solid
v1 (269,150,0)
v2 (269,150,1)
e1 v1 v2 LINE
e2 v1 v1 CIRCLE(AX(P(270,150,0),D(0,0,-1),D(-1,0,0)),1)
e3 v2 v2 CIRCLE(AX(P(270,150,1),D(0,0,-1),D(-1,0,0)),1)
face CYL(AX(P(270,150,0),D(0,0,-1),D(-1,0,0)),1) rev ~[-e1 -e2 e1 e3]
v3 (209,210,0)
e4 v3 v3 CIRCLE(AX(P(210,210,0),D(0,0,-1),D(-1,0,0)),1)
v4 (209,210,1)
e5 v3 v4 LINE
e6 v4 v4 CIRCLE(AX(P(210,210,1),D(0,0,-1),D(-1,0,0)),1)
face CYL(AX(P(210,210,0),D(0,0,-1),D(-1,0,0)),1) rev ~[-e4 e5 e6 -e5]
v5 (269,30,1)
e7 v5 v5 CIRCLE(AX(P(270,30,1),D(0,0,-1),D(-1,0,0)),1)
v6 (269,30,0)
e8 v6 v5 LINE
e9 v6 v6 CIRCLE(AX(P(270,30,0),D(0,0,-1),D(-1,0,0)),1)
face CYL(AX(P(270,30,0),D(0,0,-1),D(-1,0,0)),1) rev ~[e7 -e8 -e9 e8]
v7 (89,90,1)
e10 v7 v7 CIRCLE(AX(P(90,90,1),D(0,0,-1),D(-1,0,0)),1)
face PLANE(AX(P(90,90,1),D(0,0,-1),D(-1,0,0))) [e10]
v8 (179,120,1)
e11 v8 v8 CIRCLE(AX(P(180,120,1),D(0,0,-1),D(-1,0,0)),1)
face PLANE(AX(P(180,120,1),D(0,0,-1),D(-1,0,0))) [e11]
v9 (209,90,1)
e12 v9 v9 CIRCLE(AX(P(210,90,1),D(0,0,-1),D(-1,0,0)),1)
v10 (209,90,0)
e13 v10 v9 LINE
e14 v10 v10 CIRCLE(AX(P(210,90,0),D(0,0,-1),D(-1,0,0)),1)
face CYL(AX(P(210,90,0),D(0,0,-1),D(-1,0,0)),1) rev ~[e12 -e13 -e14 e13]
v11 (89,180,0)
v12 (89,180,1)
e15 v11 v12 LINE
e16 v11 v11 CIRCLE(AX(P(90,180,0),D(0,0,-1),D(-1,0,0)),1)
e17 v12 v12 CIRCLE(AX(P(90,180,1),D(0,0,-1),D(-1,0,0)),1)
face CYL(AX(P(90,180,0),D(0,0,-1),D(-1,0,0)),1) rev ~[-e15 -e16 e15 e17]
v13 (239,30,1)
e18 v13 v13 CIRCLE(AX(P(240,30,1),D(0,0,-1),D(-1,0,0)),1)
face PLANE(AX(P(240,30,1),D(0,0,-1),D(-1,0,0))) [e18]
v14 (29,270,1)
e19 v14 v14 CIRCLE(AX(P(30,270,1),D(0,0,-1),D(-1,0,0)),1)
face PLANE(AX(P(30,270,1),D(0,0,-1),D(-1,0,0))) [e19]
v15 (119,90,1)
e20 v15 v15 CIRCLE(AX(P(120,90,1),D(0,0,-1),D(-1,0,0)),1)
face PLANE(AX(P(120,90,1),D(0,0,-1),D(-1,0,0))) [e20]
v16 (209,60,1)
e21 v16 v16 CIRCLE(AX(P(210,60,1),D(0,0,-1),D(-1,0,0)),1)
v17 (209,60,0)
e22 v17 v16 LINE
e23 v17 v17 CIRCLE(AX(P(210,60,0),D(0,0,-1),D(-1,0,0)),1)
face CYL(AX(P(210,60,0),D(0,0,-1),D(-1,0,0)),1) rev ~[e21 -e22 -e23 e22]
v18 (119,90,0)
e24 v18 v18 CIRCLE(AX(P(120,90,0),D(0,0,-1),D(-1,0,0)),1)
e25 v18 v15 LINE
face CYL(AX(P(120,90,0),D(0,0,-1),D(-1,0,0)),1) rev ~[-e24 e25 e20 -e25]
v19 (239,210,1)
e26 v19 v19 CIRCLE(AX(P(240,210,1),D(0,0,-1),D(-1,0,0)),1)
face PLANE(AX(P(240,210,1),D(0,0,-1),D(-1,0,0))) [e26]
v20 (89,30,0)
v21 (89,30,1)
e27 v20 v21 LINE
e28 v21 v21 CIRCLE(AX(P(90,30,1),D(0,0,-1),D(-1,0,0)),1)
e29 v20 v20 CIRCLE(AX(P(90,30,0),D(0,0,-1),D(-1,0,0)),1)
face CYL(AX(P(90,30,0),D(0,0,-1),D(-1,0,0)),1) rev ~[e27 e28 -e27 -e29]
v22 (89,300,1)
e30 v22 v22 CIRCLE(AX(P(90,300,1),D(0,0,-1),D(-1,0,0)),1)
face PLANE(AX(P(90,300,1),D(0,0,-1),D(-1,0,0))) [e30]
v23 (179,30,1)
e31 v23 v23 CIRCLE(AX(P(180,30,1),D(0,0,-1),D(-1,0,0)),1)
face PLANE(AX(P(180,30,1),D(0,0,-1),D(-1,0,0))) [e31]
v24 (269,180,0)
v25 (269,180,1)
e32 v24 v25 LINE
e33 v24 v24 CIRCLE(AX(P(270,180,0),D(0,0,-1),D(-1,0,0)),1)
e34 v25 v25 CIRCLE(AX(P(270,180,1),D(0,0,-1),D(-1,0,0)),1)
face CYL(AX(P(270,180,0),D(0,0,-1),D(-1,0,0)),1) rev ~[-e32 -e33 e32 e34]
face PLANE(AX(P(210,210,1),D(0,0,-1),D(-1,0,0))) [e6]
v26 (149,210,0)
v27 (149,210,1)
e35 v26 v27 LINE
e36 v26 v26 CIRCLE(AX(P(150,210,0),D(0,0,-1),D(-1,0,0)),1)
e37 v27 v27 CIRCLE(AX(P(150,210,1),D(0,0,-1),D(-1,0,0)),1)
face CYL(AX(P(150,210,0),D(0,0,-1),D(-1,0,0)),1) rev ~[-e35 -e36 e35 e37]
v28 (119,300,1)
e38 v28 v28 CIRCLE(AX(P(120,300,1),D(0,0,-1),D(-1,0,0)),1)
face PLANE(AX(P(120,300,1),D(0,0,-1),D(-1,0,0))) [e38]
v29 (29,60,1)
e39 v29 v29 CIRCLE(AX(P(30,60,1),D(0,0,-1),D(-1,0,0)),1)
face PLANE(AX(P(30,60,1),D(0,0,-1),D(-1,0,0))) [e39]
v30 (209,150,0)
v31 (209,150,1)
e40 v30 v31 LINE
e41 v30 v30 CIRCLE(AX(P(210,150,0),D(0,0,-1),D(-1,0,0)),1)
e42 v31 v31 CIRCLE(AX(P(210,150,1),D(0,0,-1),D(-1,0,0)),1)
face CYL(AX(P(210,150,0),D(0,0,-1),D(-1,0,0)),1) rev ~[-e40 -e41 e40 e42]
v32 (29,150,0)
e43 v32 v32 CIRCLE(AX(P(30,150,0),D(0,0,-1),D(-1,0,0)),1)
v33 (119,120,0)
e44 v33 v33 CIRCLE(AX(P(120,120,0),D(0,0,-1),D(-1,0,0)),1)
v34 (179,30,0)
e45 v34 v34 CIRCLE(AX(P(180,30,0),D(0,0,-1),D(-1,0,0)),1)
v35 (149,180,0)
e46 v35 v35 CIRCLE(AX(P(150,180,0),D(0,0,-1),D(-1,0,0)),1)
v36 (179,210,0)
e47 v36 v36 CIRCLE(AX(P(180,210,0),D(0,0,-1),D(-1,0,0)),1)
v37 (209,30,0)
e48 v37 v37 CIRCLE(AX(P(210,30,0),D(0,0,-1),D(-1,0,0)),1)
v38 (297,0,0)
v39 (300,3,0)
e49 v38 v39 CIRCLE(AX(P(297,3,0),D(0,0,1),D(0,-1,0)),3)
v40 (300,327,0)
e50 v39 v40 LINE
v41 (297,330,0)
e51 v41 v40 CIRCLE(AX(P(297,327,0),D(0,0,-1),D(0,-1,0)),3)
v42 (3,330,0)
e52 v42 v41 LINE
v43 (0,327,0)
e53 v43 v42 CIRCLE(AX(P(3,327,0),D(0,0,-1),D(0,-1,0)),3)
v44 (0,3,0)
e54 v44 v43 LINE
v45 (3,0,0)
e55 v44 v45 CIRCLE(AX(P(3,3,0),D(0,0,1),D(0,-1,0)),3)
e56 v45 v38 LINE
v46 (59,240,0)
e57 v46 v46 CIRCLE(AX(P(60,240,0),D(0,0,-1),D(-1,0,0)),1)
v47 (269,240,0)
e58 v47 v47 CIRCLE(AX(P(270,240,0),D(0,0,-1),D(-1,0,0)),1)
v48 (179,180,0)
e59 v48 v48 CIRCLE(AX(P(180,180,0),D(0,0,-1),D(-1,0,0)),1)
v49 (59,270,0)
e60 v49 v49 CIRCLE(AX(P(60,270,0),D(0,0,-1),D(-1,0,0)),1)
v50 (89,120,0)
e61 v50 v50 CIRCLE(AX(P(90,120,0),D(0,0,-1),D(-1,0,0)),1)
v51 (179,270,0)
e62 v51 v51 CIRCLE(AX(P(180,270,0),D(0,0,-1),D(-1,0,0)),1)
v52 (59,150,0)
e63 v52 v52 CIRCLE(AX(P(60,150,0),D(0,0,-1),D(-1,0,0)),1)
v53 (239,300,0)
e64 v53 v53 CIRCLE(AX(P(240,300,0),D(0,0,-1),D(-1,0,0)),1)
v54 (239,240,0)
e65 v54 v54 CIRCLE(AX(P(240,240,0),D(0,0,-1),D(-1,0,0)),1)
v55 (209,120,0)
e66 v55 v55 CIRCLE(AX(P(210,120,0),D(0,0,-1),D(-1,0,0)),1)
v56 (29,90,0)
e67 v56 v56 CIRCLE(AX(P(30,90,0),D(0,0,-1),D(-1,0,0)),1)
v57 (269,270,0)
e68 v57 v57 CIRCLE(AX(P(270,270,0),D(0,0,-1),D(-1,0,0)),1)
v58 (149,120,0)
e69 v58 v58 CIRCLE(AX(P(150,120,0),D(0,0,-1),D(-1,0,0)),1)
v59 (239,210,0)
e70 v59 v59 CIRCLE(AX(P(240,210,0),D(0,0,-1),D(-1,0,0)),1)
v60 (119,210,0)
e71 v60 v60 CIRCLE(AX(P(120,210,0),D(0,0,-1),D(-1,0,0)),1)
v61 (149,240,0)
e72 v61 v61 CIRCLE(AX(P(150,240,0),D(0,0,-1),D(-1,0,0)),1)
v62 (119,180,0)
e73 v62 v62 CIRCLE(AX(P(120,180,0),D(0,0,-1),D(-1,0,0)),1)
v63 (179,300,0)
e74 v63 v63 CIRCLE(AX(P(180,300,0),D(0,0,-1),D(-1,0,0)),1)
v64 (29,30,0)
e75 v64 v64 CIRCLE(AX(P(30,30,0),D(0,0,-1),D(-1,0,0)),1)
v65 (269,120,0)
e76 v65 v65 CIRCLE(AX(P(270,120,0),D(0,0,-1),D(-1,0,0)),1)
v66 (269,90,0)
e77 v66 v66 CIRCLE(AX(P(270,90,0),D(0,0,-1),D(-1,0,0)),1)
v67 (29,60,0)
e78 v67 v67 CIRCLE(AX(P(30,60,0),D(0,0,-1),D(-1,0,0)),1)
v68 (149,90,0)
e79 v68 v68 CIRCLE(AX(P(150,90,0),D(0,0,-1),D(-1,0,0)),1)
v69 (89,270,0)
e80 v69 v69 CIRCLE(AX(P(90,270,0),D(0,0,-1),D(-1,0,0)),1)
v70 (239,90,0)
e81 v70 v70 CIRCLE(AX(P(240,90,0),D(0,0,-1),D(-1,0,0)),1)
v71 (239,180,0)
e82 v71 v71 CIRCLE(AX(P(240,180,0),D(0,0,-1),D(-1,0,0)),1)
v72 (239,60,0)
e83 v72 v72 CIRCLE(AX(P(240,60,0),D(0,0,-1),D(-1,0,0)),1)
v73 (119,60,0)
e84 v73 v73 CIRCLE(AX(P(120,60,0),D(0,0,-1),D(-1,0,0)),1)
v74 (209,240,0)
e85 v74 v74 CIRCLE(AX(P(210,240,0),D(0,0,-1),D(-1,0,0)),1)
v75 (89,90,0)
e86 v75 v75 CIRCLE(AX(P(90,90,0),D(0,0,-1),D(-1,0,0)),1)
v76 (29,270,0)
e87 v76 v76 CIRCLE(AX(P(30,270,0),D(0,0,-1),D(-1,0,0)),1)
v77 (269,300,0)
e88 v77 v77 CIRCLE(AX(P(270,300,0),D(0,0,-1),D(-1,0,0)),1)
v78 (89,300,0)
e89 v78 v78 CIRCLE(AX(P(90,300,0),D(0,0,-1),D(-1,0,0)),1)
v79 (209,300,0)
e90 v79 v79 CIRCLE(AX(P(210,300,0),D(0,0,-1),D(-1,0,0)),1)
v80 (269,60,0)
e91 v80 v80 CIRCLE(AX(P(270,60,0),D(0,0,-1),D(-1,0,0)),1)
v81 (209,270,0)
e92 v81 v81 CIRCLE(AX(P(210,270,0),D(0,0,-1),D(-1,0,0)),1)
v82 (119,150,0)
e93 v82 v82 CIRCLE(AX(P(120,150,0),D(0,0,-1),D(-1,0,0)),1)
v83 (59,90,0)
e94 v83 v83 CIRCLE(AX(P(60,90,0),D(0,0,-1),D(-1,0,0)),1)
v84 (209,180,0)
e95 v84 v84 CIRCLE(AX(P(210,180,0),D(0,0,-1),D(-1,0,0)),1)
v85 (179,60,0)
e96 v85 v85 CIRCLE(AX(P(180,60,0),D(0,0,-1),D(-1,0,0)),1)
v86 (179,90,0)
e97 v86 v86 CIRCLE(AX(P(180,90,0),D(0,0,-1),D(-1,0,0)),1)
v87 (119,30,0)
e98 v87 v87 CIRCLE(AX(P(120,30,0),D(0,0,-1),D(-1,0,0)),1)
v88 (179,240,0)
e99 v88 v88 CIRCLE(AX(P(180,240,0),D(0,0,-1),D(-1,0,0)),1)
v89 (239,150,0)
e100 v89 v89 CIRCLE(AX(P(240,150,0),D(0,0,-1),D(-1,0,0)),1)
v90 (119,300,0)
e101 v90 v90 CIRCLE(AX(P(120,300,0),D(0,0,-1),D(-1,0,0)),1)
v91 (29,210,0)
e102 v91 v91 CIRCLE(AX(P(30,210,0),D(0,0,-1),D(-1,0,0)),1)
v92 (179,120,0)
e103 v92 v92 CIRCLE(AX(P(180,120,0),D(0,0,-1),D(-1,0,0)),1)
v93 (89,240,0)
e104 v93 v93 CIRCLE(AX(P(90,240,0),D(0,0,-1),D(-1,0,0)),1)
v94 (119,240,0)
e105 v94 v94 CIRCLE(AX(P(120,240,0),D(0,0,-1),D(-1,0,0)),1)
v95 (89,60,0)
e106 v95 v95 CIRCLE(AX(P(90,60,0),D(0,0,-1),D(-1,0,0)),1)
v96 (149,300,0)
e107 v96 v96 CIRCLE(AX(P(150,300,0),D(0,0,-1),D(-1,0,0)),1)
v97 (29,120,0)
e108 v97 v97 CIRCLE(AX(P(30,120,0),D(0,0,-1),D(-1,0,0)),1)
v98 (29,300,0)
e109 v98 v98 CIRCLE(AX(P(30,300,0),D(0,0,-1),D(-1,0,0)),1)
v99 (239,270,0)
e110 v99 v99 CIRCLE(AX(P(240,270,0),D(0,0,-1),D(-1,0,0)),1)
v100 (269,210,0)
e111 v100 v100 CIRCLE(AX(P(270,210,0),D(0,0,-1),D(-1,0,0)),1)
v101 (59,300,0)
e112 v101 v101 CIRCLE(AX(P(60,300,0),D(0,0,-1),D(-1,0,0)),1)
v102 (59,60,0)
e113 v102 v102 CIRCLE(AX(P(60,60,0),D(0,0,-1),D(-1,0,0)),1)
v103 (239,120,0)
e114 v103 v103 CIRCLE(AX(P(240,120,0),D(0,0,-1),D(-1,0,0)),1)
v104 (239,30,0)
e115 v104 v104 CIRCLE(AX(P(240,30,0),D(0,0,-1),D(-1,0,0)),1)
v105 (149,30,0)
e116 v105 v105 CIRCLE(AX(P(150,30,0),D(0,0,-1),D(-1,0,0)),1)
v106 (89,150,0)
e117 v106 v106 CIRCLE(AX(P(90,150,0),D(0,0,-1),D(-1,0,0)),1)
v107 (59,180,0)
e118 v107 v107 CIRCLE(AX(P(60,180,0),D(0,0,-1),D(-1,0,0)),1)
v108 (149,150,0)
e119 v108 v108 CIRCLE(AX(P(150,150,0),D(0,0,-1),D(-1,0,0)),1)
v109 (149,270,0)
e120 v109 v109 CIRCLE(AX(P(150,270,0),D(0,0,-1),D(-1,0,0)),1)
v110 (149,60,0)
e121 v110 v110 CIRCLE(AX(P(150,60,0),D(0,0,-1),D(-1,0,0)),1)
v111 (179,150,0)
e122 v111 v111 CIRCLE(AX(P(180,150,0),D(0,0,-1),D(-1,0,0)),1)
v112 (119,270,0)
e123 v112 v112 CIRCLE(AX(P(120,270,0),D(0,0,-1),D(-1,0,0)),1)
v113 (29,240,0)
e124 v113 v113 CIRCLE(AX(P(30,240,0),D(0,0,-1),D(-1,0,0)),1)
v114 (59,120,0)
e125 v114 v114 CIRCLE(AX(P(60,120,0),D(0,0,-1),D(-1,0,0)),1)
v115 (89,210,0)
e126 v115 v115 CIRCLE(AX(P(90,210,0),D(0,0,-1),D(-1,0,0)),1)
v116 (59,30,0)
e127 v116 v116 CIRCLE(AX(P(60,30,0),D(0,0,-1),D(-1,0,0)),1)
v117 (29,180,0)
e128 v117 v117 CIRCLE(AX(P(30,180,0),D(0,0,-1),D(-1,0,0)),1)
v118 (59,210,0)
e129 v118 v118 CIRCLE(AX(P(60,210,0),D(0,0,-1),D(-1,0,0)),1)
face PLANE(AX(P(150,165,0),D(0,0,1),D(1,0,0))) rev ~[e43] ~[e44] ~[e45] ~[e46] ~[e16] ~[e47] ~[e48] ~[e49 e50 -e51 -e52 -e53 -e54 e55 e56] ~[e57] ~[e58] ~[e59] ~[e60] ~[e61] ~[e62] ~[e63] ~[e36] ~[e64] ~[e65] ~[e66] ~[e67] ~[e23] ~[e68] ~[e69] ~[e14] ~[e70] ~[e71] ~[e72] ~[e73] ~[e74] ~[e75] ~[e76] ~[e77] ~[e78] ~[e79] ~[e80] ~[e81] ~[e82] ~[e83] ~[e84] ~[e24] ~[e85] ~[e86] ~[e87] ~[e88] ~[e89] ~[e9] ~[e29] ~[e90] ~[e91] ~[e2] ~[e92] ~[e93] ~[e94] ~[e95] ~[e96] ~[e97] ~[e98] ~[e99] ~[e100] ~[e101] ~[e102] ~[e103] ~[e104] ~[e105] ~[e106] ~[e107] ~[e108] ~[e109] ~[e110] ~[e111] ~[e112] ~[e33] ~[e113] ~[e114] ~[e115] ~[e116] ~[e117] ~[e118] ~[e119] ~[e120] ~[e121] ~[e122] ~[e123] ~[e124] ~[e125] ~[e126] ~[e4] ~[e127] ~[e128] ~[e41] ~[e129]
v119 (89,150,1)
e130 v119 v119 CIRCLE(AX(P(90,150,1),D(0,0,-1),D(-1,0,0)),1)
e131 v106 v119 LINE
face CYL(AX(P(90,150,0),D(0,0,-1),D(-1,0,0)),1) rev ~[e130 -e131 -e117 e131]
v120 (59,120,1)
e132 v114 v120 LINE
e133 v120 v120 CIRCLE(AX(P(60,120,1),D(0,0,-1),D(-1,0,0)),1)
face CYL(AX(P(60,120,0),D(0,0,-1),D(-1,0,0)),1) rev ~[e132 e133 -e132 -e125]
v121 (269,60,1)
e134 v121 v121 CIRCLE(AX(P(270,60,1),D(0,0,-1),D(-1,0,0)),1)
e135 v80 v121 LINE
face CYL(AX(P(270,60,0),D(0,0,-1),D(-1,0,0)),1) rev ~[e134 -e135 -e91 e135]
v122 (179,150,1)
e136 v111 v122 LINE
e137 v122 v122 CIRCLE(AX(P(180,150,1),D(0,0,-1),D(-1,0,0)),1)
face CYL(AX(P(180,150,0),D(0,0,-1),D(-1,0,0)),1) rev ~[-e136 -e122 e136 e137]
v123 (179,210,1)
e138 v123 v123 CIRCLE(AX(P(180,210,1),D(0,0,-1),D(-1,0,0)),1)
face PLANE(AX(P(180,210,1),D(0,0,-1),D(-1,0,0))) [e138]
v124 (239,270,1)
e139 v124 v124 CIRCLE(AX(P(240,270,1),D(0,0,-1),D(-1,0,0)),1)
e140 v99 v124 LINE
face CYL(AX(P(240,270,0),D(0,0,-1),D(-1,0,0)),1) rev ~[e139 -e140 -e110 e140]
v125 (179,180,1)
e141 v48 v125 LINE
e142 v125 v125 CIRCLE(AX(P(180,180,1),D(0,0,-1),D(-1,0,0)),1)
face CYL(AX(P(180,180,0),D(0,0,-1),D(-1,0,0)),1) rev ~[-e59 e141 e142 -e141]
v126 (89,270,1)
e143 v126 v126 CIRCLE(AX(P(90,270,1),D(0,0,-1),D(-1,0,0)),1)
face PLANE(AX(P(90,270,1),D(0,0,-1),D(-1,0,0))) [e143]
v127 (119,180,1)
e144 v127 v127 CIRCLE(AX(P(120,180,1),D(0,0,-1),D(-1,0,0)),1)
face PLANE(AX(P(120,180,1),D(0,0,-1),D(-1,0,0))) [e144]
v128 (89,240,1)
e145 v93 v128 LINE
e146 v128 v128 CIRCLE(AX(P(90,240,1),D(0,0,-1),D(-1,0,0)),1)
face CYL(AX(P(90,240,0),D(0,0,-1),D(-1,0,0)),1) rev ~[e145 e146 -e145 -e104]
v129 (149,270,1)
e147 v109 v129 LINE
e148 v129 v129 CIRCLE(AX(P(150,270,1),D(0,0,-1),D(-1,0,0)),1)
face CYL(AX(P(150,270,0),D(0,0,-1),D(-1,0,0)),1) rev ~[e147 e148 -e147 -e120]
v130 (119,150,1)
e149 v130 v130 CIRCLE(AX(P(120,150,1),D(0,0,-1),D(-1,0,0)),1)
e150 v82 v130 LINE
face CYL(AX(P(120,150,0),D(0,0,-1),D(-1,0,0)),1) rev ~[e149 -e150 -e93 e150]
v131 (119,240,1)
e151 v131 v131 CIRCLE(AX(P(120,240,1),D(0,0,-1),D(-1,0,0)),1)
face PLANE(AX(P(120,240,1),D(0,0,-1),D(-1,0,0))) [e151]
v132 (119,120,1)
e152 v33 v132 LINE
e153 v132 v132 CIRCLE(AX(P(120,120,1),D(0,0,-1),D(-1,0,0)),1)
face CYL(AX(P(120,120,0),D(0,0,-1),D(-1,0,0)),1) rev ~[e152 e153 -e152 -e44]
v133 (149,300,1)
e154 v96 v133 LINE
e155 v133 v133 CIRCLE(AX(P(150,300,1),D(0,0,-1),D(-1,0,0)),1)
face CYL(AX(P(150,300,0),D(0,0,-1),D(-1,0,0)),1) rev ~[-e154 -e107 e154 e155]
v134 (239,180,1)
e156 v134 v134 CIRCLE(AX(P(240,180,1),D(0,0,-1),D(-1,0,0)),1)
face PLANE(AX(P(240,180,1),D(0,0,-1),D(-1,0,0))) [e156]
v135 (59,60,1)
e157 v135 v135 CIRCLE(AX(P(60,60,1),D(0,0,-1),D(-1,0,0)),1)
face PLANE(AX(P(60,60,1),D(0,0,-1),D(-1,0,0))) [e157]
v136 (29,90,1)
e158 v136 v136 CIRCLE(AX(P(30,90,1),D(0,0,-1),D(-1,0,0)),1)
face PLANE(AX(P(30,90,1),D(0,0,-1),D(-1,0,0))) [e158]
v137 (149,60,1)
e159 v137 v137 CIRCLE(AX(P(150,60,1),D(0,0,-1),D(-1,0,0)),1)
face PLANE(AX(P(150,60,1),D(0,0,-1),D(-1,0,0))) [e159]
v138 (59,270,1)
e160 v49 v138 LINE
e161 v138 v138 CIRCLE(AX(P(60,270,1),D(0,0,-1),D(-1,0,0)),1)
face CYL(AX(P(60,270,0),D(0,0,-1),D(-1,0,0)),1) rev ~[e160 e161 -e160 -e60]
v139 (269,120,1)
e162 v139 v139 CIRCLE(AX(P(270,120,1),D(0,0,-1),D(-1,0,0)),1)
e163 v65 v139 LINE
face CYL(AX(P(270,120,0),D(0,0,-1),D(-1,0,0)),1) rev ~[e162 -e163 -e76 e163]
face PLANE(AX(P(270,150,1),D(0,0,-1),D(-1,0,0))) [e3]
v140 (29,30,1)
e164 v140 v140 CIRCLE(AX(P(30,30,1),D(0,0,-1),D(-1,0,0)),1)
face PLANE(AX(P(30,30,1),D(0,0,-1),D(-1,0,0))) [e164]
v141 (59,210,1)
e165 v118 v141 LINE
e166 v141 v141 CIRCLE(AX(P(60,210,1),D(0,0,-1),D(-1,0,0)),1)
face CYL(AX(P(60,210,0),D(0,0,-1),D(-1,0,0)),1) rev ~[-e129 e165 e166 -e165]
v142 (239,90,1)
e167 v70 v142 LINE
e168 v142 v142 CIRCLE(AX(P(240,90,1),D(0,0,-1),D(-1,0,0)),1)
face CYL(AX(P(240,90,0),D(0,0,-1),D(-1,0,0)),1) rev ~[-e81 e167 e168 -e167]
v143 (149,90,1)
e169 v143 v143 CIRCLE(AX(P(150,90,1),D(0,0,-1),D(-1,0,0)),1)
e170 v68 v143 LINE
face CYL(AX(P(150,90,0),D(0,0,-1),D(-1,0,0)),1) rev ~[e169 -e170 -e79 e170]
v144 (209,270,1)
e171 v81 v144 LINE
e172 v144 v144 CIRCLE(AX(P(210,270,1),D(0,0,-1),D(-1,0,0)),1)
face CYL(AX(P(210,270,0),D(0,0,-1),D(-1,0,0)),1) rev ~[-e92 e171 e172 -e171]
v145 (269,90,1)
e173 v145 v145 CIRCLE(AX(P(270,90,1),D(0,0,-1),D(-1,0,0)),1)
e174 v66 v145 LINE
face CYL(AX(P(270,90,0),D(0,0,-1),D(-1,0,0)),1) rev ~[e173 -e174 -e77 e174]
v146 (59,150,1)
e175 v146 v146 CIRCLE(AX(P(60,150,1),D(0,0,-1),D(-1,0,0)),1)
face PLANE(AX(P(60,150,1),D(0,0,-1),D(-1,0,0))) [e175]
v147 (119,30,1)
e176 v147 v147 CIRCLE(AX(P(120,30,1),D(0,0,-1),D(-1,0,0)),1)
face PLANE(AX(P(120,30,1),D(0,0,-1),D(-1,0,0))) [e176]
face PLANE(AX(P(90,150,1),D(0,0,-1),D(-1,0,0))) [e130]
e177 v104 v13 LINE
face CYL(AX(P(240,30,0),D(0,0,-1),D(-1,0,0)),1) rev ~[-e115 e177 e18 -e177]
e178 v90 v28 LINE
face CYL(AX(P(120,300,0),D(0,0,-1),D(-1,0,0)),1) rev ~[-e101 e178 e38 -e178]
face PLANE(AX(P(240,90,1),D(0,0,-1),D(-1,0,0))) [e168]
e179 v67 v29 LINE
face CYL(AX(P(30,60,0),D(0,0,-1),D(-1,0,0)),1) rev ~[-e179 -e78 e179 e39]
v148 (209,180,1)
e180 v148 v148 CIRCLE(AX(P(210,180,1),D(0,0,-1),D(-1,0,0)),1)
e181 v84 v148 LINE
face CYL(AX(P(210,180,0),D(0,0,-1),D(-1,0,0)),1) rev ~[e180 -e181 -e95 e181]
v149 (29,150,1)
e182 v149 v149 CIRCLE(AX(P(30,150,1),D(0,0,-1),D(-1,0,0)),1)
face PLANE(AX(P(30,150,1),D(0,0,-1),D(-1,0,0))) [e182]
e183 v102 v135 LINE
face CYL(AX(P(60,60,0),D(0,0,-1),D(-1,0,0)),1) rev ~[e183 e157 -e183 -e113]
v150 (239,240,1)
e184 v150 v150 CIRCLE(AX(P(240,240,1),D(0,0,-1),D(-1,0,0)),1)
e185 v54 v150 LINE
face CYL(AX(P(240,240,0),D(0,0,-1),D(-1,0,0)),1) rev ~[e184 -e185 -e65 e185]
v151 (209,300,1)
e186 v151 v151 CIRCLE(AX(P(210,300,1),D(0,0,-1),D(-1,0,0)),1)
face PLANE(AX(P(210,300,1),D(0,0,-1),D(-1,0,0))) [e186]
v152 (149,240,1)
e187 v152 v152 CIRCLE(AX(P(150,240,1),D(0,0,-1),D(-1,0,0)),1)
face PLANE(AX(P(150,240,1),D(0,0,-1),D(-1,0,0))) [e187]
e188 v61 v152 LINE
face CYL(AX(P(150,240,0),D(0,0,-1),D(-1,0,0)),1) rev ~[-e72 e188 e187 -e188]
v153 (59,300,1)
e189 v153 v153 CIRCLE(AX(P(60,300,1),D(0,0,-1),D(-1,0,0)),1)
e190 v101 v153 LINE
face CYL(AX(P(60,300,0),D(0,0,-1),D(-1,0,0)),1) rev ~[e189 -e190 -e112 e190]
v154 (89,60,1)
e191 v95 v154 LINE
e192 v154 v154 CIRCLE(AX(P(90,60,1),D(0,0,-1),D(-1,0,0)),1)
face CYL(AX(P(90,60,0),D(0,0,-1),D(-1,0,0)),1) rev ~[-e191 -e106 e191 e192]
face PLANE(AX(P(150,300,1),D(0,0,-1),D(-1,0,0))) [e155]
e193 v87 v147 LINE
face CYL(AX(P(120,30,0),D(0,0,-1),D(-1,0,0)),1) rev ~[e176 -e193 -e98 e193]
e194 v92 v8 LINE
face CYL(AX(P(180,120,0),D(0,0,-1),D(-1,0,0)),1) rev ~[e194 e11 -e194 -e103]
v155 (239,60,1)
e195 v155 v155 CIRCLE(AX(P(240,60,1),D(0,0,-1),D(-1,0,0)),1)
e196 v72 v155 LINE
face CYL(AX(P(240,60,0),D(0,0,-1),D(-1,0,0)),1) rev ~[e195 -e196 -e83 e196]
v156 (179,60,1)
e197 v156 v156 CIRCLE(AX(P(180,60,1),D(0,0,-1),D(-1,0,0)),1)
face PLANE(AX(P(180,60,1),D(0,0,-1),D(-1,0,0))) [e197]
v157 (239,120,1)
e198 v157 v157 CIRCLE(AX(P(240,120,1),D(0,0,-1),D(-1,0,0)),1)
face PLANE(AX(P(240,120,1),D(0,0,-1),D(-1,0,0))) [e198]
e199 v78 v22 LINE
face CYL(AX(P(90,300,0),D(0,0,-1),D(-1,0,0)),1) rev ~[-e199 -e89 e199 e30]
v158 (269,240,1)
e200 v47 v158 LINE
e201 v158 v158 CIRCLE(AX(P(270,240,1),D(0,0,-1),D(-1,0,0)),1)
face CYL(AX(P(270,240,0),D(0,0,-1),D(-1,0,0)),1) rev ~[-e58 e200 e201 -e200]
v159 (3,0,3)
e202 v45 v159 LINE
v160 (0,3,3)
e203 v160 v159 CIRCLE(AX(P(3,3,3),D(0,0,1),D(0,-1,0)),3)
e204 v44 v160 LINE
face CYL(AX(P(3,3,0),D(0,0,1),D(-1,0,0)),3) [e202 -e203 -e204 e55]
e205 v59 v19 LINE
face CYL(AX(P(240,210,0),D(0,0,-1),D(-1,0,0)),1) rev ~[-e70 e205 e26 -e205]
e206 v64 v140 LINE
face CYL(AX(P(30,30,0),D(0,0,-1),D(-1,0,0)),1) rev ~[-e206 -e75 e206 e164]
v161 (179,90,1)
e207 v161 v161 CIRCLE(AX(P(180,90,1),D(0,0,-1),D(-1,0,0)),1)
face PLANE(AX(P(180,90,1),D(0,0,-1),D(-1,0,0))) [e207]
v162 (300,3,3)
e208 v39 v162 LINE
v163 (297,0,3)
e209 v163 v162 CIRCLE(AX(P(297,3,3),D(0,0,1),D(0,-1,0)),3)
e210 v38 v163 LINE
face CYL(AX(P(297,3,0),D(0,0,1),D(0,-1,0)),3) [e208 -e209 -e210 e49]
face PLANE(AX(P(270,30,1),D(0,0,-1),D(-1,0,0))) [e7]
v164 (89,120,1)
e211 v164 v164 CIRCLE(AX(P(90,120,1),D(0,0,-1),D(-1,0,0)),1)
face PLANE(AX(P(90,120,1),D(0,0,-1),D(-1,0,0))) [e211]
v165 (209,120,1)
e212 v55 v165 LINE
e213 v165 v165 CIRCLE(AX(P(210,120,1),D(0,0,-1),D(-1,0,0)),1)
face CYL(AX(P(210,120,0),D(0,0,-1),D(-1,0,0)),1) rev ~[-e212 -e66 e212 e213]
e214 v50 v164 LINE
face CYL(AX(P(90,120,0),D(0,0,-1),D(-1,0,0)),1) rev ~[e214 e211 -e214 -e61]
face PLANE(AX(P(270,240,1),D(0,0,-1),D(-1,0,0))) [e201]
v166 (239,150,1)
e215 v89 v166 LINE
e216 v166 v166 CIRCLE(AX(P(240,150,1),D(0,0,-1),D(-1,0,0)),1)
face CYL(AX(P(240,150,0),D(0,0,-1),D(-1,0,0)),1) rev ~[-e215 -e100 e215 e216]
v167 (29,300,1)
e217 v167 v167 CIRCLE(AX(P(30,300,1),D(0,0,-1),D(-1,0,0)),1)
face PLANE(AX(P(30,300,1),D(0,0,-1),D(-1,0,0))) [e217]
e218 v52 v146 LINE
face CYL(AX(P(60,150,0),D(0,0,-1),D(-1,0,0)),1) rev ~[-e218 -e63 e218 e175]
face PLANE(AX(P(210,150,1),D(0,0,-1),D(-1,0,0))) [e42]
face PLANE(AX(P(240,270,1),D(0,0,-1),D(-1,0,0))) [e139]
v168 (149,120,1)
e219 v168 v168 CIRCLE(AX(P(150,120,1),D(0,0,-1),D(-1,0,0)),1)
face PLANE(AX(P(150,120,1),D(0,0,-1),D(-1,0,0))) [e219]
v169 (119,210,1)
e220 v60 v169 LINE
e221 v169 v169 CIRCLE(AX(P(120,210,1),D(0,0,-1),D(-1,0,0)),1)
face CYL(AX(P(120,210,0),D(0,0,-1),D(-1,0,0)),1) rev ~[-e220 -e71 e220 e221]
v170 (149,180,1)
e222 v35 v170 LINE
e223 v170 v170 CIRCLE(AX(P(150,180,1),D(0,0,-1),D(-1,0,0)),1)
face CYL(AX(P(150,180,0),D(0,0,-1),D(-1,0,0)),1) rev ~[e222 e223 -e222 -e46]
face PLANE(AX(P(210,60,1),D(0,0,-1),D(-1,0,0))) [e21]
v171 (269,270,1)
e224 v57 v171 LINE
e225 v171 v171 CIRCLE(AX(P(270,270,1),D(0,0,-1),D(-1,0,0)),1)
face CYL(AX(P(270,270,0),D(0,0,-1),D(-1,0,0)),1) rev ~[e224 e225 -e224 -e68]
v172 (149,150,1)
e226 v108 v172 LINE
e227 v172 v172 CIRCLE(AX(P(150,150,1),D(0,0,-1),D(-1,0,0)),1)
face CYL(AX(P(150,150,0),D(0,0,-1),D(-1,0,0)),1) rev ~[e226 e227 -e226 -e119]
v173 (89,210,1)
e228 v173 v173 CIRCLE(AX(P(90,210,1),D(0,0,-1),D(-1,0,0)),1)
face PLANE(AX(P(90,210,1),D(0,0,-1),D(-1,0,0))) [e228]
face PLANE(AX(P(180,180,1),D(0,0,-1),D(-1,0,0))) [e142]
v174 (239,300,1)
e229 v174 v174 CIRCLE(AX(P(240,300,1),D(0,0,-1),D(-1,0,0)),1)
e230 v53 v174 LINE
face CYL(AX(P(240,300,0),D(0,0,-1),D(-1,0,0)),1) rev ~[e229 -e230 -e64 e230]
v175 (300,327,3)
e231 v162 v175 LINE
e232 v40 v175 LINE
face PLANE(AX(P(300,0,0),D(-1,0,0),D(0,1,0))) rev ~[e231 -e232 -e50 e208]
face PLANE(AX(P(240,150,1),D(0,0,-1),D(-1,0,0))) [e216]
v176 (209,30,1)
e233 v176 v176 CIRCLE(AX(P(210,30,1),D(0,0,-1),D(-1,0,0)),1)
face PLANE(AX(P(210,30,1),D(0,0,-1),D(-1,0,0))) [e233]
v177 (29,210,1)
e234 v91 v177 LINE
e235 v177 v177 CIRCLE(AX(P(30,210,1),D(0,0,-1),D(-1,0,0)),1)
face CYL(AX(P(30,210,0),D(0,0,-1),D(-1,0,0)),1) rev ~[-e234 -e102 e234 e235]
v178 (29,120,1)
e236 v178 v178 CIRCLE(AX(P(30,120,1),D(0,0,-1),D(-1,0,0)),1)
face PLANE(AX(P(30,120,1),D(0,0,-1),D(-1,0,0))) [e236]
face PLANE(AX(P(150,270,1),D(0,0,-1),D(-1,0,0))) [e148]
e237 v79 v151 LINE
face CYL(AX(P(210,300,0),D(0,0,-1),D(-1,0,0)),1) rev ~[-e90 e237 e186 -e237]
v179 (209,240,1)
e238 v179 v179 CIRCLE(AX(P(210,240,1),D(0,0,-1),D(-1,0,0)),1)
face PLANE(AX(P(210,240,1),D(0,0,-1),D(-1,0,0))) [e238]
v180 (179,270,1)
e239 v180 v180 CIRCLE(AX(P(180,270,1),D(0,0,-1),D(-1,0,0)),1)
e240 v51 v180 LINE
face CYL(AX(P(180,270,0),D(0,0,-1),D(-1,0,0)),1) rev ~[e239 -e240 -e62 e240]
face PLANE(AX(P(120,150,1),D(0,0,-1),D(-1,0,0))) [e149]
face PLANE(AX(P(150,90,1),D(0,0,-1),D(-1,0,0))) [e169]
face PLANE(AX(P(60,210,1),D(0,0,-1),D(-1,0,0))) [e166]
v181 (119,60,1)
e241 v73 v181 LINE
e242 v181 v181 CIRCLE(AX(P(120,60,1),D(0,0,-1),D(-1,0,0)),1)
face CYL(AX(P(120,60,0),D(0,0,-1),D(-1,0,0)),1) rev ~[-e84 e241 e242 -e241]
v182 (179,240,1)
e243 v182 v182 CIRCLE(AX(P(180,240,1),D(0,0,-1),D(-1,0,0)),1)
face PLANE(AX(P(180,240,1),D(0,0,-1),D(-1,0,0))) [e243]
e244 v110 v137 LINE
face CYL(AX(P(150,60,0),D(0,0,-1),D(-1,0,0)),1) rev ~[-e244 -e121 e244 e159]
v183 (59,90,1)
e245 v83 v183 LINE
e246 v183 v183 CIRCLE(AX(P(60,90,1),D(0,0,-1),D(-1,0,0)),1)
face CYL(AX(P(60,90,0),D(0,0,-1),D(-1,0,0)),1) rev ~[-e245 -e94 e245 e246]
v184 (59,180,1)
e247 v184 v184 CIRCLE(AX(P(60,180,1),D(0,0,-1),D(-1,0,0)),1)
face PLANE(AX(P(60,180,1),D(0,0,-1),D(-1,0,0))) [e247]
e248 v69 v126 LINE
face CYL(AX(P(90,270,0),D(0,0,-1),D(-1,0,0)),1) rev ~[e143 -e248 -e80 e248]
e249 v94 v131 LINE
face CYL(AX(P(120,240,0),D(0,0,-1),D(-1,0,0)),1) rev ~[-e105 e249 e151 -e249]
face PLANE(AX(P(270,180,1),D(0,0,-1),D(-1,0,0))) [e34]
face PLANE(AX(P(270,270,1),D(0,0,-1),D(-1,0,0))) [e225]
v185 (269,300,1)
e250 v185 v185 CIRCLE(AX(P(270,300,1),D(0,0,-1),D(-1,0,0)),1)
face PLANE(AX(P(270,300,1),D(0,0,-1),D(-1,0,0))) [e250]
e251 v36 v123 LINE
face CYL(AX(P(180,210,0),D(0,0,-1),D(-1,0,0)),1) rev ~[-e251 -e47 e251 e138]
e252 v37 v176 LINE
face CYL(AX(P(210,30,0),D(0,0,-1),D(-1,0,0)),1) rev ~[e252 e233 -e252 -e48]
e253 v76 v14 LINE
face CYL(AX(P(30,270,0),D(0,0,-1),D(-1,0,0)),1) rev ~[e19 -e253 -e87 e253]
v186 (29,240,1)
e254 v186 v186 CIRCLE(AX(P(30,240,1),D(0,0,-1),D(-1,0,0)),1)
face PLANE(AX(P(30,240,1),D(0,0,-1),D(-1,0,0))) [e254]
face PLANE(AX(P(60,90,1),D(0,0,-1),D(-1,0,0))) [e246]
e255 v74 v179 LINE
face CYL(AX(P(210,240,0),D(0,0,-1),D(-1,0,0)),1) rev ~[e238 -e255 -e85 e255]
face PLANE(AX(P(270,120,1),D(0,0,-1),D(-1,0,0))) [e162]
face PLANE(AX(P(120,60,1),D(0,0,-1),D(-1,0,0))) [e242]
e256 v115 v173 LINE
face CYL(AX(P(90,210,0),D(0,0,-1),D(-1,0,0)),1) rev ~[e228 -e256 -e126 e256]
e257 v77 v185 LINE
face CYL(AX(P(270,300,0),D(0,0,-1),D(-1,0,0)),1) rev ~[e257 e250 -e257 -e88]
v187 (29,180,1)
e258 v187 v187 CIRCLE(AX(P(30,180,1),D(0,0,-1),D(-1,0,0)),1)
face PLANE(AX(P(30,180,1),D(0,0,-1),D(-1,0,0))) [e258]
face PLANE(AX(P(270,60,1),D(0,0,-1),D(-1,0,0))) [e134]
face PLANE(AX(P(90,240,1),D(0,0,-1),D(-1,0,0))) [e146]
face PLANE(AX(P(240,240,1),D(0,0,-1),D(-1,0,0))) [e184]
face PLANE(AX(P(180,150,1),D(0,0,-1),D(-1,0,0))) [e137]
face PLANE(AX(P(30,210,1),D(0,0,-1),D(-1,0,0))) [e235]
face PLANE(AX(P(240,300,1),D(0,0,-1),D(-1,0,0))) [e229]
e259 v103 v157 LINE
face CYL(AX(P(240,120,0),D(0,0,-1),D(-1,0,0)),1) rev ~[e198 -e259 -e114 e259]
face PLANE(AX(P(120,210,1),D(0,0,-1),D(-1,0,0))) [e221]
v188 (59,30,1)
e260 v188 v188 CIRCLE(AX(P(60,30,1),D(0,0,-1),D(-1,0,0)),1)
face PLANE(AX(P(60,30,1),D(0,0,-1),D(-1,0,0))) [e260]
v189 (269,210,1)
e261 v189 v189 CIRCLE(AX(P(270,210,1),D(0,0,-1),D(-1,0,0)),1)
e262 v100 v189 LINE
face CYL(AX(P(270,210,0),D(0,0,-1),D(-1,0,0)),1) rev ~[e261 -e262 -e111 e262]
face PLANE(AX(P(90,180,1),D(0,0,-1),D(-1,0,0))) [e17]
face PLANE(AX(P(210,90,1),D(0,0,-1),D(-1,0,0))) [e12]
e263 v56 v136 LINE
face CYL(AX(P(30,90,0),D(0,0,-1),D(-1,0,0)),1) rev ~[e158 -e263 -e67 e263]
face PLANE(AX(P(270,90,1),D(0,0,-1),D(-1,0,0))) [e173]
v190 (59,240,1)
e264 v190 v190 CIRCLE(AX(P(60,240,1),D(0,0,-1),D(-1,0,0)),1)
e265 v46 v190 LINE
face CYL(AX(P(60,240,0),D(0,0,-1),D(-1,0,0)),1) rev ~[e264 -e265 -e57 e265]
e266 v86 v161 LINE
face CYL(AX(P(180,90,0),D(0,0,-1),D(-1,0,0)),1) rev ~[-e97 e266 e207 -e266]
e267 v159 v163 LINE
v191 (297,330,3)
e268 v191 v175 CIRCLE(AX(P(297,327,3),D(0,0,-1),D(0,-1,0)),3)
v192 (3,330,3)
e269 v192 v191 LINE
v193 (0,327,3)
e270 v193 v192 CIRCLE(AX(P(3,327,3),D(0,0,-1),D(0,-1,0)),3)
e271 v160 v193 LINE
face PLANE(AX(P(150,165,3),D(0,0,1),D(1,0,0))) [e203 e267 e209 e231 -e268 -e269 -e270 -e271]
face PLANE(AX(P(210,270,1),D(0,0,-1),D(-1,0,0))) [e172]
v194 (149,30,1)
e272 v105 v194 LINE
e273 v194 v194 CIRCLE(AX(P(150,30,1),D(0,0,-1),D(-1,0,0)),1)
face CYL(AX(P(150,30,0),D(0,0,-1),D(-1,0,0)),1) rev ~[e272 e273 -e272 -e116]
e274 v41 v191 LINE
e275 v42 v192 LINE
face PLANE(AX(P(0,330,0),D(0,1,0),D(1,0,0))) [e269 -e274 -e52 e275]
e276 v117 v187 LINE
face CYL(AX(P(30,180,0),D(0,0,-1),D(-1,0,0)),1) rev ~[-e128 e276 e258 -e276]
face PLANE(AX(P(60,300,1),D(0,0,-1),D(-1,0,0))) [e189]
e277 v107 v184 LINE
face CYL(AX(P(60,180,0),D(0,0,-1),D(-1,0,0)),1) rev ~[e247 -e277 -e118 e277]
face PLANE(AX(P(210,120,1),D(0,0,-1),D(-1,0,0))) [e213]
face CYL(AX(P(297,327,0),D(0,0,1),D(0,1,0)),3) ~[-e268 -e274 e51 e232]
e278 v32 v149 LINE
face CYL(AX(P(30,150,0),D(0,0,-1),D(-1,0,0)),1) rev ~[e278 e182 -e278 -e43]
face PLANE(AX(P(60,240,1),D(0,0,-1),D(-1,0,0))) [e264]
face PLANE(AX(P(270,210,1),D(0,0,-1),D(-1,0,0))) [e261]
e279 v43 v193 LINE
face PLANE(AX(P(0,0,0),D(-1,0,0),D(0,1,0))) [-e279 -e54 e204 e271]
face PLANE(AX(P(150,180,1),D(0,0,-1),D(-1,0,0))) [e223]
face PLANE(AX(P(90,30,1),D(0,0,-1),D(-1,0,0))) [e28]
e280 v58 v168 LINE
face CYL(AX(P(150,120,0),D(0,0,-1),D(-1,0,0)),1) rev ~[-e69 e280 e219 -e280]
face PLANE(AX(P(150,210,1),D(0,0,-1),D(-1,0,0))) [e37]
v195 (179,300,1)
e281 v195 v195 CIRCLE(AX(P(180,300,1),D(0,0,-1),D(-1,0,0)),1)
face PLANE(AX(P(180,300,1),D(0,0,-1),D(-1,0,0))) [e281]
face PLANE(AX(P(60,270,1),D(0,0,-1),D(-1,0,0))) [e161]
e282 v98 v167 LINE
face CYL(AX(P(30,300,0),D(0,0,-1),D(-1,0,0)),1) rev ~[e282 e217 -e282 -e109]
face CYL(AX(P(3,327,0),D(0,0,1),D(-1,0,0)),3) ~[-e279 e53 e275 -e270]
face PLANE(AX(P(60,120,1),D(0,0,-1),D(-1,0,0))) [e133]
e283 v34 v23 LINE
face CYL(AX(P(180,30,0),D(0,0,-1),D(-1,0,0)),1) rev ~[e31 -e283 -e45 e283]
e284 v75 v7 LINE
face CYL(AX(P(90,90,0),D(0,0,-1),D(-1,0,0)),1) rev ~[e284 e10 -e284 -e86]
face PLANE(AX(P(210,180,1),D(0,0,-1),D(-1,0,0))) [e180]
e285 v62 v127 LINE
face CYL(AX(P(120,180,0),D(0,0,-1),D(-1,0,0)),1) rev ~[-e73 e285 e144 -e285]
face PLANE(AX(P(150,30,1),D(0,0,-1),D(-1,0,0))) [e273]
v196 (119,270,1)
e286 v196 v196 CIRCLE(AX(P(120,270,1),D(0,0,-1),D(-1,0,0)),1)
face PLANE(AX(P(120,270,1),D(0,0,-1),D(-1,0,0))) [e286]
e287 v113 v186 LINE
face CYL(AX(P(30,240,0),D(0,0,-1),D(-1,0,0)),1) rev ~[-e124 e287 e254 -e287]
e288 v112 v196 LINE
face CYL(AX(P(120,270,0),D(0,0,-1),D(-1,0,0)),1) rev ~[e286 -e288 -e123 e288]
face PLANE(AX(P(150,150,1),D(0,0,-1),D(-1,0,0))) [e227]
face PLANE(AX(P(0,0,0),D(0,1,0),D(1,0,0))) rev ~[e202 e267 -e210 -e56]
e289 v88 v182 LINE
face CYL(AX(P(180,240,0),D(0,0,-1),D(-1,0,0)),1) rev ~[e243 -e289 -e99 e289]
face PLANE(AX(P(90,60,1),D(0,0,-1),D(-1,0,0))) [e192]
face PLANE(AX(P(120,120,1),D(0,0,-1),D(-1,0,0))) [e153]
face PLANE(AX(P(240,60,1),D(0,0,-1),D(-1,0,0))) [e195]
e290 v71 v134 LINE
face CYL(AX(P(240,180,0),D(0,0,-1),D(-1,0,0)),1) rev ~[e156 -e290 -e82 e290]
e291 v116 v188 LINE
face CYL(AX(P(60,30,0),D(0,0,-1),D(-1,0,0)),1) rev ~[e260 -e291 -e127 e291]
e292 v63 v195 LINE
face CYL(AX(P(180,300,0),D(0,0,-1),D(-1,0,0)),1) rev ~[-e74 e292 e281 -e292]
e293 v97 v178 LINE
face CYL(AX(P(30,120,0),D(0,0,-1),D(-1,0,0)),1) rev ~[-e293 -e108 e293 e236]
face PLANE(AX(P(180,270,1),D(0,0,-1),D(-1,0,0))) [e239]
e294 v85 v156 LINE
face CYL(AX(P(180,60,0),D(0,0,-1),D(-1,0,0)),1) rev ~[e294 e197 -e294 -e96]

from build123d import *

# Parameters (mm, degrees)
SKETCH_1_W          = 300
SKETCH_1_H          = 330
EXTRUDE_1_DEPTH     = 3
SKETCH_4_R          = 1
CUT_EXTRUDE_3_DEPTH = 1
FILLET_1_R          = 3


with BuildPart() as part:
    # 草图1 → 凸台-拉伸1 (new body)
    with BuildSketch(Plane.XY):
        with Locations((150, 165)):
            Rectangle(SKETCH_1_W, SKETCH_1_H)
    extrude(amount=EXTRUDE_1_DEPTH)

    # 草图4 → 切除-拉伸3 (cut)
    with BuildSketch(Plane(origin=(0, 0, 0), x_dir=(-1, 0, 0), z_dir=(0, 0, -1))):
        with Locations((-270, 300)):
            Circle(SKETCH_4_R)
        with Locations((-240, 300)):
            Circle(SKETCH_4_R)
        with Locations((-210, 300)):
            Circle(SKETCH_4_R)
        with Locations((-180, 300)):
            Circle(SKETCH_4_R)
        with Locations((-150, 300)):
            Circle(SKETCH_4_R)
        with Locations((-120, 300)):
            Circle(SKETCH_4_R)
        with Locations((-90, 300)):
            Circle(SKETCH_4_R)
        with Locations((-60, 300)):
            Circle(SKETCH_4_R)
        with Locations((-30, 300)):
            Circle(SKETCH_4_R)
        with Locations((-240, 270)):
            Circle(SKETCH_4_R)
        with Locations((-210, 270)):
            Circle(SKETCH_4_R)
        with Locations((-180, 270)):
            Circle(SKETCH_4_R)
        with Locations((-150, 270)):
            Circle(SKETCH_4_R)
        with Locations((-120, 270)):
            Circle(SKETCH_4_R)
        with Locations((-90, 270)):
            Circle(SKETCH_4_R)
        with Locations((-60, 270)):
            Circle(SKETCH_4_R)
        with Locations((-30, 270)):
            Circle(SKETCH_4_R)
        with Locations((-240, 240)):
            Circle(SKETCH_4_R)
        with Locations((-210, 240)):
            Circle(SKETCH_4_R)
        with Locations((-180, 240)):
            Circle(SKETCH_4_R)
        with Locations((-150, 240)):
            Circle(SKETCH_4_R)
        with Locations((-120, 240)):
            Circle(SKETCH_4_R)
        with Locations((-90, 240)):
            Circle(SKETCH_4_R)
        with Locations((-60, 240)):
            Circle(SKETCH_4_R)
        with Locations((-30, 240)):
            Circle(SKETCH_4_R)
        with Locations((-240, 210)):
            Circle(SKETCH_4_R)
        with Locations((-210, 210)):
            Circle(SKETCH_4_R)
        with Locations((-180, 210)):
            Circle(SKETCH_4_R)
        with Locations((-150, 210)):
            Circle(SKETCH_4_R)
        with Locations((-120, 210)):
            Circle(SKETCH_4_R)
        with Locations((-90, 210)):
            Circle(SKETCH_4_R)
        with Locations((-60, 210)):
            Circle(SKETCH_4_R)
        with Locations((-30, 210)):
            Circle(SKETCH_4_R)
        with Locations((-240, 180)):
            Circle(SKETCH_4_R)
        with Locations((-210, 180)):
            Circle(SKETCH_4_R)
        with Locations((-180, 180)):
            Circle(SKETCH_4_R)
        with Locations((-150, 180)):
            Circle(SKETCH_4_R)
        with Locations((-120, 180)):
            Circle(SKETCH_4_R)
        with Locations((-90, 180)):
            Circle(SKETCH_4_R)
        with Locations((-60, 180)):
            Circle(SKETCH_4_R)
        with Locations((-30, 180)):
            Circle(SKETCH_4_R)
        with Locations((-240, 150)):
            Circle(SKETCH_4_R)
        with Locations((-210, 150)):
            Circle(SKETCH_4_R)
        with Locations((-180, 150)):
            Circle(SKETCH_4_R)
        with Locations((-150, 150)):
            Circle(SKETCH_4_R)
        with Locations((-120, 150)):
            Circle(SKETCH_4_R)
        with Locations((-90, 150)):
            Circle(SKETCH_4_R)
        with Locations((-60, 150)):
            Circle(SKETCH_4_R)
        with Locations((-30, 150)):
            Circle(SKETCH_4_R)
        with Locations((-240, 120)):
            Circle(SKETCH_4_R)
        with Locations((-210, 120)):
            Circle(SKETCH_4_R)
        with Locations((-180, 120)):
            Circle(SKETCH_4_R)
        with Locations((-150, 120)):
            Circle(SKETCH_4_R)
        with Locations((-120, 120)):
            Circle(SKETCH_4_R)
        with Locations((-90, 120)):
            Circle(SKETCH_4_R)
        with Locations((-60, 120)):
            Circle(SKETCH_4_R)
        with Locations((-30, 120)):
            Circle(SKETCH_4_R)
        with Locations((-240, 90)):
            Circle(SKETCH_4_R)
        with Locations((-210, 90)):
            Circle(SKETCH_4_R)
        with Locations((-180, 90)):
            Circle(SKETCH_4_R)
        with Locations((-150, 90)):
            Circle(SKETCH_4_R)
        with Locations((-120, 90)):
            Circle(SKETCH_4_R)
        with Locations((-90, 90)):
            Circle(SKETCH_4_R)
        with Locations((-60, 90)):
            Circle(SKETCH_4_R)
        with Locations((-30, 90)):
            Circle(SKETCH_4_R)
        with Locations((-240, 60)):
            Circle(SKETCH_4_R)
        with Locations((-210, 60)):
            Circle(SKETCH_4_R)
        with Locations((-180, 60)):
            Circle(SKETCH_4_R)
        with Locations((-150, 60)):
            Circle(SKETCH_4_R)
        with Locations((-120, 60)):
            Circle(SKETCH_4_R)
        with Locations((-90, 60)):
            Circle(SKETCH_4_R)
        with Locations((-60, 60)):
            Circle(SKETCH_4_R)
        with Locations((-30, 60)):
            Circle(SKETCH_4_R)
        with Locations((-240, 30)):
            Circle(SKETCH_4_R)
        with Locations((-210, 30)):
            Circle(SKETCH_4_R)
        with Locations((-180, 30)):
            Circle(SKETCH_4_R)
        with Locations((-150, 30)):
            Circle(SKETCH_4_R)
        with Locations((-120, 30)):
            Circle(SKETCH_4_R)
        with Locations((-90, 30)):
            Circle(SKETCH_4_R)
        with Locations((-60, 30)):
            Circle(SKETCH_4_R)
        with Locations((-30, 30)):
            Circle(SKETCH_4_R)
        with Locations((-270, 270)):
            Circle(SKETCH_4_R)
        with Locations((-270, 240)):
            Circle(SKETCH_4_R)
        with Locations((-270, 210)):
            Circle(SKETCH_4_R)
        with Locations((-270, 180)):
            Circle(SKETCH_4_R)
        with Locations((-270, 150)):
            Circle(SKETCH_4_R)
        with Locations((-270, 120)):
            Circle(SKETCH_4_R)
        with Locations((-270, 90)):
            Circle(SKETCH_4_R)
        with Locations((-270, 60)):
            Circle(SKETCH_4_R)
        with Locations((-270, 30)):
            Circle(SKETCH_4_R)
    extrude(amount=-CUT_EXTRUDE_3_DEPTH, mode=Mode.SUBTRACT)

    # 圆角1
    fillet_1_edges = [part.edges().sort_by_distance(p)[0] for p in [
        (0, 330, 1.5),
        (300, 330, 1.5),
        (300, 0, 1.5),
        (0, 0, 1.5),
    ]]
    fillet(fillet_1_edges, radius=FILLET_1_R)


solid = part.part
